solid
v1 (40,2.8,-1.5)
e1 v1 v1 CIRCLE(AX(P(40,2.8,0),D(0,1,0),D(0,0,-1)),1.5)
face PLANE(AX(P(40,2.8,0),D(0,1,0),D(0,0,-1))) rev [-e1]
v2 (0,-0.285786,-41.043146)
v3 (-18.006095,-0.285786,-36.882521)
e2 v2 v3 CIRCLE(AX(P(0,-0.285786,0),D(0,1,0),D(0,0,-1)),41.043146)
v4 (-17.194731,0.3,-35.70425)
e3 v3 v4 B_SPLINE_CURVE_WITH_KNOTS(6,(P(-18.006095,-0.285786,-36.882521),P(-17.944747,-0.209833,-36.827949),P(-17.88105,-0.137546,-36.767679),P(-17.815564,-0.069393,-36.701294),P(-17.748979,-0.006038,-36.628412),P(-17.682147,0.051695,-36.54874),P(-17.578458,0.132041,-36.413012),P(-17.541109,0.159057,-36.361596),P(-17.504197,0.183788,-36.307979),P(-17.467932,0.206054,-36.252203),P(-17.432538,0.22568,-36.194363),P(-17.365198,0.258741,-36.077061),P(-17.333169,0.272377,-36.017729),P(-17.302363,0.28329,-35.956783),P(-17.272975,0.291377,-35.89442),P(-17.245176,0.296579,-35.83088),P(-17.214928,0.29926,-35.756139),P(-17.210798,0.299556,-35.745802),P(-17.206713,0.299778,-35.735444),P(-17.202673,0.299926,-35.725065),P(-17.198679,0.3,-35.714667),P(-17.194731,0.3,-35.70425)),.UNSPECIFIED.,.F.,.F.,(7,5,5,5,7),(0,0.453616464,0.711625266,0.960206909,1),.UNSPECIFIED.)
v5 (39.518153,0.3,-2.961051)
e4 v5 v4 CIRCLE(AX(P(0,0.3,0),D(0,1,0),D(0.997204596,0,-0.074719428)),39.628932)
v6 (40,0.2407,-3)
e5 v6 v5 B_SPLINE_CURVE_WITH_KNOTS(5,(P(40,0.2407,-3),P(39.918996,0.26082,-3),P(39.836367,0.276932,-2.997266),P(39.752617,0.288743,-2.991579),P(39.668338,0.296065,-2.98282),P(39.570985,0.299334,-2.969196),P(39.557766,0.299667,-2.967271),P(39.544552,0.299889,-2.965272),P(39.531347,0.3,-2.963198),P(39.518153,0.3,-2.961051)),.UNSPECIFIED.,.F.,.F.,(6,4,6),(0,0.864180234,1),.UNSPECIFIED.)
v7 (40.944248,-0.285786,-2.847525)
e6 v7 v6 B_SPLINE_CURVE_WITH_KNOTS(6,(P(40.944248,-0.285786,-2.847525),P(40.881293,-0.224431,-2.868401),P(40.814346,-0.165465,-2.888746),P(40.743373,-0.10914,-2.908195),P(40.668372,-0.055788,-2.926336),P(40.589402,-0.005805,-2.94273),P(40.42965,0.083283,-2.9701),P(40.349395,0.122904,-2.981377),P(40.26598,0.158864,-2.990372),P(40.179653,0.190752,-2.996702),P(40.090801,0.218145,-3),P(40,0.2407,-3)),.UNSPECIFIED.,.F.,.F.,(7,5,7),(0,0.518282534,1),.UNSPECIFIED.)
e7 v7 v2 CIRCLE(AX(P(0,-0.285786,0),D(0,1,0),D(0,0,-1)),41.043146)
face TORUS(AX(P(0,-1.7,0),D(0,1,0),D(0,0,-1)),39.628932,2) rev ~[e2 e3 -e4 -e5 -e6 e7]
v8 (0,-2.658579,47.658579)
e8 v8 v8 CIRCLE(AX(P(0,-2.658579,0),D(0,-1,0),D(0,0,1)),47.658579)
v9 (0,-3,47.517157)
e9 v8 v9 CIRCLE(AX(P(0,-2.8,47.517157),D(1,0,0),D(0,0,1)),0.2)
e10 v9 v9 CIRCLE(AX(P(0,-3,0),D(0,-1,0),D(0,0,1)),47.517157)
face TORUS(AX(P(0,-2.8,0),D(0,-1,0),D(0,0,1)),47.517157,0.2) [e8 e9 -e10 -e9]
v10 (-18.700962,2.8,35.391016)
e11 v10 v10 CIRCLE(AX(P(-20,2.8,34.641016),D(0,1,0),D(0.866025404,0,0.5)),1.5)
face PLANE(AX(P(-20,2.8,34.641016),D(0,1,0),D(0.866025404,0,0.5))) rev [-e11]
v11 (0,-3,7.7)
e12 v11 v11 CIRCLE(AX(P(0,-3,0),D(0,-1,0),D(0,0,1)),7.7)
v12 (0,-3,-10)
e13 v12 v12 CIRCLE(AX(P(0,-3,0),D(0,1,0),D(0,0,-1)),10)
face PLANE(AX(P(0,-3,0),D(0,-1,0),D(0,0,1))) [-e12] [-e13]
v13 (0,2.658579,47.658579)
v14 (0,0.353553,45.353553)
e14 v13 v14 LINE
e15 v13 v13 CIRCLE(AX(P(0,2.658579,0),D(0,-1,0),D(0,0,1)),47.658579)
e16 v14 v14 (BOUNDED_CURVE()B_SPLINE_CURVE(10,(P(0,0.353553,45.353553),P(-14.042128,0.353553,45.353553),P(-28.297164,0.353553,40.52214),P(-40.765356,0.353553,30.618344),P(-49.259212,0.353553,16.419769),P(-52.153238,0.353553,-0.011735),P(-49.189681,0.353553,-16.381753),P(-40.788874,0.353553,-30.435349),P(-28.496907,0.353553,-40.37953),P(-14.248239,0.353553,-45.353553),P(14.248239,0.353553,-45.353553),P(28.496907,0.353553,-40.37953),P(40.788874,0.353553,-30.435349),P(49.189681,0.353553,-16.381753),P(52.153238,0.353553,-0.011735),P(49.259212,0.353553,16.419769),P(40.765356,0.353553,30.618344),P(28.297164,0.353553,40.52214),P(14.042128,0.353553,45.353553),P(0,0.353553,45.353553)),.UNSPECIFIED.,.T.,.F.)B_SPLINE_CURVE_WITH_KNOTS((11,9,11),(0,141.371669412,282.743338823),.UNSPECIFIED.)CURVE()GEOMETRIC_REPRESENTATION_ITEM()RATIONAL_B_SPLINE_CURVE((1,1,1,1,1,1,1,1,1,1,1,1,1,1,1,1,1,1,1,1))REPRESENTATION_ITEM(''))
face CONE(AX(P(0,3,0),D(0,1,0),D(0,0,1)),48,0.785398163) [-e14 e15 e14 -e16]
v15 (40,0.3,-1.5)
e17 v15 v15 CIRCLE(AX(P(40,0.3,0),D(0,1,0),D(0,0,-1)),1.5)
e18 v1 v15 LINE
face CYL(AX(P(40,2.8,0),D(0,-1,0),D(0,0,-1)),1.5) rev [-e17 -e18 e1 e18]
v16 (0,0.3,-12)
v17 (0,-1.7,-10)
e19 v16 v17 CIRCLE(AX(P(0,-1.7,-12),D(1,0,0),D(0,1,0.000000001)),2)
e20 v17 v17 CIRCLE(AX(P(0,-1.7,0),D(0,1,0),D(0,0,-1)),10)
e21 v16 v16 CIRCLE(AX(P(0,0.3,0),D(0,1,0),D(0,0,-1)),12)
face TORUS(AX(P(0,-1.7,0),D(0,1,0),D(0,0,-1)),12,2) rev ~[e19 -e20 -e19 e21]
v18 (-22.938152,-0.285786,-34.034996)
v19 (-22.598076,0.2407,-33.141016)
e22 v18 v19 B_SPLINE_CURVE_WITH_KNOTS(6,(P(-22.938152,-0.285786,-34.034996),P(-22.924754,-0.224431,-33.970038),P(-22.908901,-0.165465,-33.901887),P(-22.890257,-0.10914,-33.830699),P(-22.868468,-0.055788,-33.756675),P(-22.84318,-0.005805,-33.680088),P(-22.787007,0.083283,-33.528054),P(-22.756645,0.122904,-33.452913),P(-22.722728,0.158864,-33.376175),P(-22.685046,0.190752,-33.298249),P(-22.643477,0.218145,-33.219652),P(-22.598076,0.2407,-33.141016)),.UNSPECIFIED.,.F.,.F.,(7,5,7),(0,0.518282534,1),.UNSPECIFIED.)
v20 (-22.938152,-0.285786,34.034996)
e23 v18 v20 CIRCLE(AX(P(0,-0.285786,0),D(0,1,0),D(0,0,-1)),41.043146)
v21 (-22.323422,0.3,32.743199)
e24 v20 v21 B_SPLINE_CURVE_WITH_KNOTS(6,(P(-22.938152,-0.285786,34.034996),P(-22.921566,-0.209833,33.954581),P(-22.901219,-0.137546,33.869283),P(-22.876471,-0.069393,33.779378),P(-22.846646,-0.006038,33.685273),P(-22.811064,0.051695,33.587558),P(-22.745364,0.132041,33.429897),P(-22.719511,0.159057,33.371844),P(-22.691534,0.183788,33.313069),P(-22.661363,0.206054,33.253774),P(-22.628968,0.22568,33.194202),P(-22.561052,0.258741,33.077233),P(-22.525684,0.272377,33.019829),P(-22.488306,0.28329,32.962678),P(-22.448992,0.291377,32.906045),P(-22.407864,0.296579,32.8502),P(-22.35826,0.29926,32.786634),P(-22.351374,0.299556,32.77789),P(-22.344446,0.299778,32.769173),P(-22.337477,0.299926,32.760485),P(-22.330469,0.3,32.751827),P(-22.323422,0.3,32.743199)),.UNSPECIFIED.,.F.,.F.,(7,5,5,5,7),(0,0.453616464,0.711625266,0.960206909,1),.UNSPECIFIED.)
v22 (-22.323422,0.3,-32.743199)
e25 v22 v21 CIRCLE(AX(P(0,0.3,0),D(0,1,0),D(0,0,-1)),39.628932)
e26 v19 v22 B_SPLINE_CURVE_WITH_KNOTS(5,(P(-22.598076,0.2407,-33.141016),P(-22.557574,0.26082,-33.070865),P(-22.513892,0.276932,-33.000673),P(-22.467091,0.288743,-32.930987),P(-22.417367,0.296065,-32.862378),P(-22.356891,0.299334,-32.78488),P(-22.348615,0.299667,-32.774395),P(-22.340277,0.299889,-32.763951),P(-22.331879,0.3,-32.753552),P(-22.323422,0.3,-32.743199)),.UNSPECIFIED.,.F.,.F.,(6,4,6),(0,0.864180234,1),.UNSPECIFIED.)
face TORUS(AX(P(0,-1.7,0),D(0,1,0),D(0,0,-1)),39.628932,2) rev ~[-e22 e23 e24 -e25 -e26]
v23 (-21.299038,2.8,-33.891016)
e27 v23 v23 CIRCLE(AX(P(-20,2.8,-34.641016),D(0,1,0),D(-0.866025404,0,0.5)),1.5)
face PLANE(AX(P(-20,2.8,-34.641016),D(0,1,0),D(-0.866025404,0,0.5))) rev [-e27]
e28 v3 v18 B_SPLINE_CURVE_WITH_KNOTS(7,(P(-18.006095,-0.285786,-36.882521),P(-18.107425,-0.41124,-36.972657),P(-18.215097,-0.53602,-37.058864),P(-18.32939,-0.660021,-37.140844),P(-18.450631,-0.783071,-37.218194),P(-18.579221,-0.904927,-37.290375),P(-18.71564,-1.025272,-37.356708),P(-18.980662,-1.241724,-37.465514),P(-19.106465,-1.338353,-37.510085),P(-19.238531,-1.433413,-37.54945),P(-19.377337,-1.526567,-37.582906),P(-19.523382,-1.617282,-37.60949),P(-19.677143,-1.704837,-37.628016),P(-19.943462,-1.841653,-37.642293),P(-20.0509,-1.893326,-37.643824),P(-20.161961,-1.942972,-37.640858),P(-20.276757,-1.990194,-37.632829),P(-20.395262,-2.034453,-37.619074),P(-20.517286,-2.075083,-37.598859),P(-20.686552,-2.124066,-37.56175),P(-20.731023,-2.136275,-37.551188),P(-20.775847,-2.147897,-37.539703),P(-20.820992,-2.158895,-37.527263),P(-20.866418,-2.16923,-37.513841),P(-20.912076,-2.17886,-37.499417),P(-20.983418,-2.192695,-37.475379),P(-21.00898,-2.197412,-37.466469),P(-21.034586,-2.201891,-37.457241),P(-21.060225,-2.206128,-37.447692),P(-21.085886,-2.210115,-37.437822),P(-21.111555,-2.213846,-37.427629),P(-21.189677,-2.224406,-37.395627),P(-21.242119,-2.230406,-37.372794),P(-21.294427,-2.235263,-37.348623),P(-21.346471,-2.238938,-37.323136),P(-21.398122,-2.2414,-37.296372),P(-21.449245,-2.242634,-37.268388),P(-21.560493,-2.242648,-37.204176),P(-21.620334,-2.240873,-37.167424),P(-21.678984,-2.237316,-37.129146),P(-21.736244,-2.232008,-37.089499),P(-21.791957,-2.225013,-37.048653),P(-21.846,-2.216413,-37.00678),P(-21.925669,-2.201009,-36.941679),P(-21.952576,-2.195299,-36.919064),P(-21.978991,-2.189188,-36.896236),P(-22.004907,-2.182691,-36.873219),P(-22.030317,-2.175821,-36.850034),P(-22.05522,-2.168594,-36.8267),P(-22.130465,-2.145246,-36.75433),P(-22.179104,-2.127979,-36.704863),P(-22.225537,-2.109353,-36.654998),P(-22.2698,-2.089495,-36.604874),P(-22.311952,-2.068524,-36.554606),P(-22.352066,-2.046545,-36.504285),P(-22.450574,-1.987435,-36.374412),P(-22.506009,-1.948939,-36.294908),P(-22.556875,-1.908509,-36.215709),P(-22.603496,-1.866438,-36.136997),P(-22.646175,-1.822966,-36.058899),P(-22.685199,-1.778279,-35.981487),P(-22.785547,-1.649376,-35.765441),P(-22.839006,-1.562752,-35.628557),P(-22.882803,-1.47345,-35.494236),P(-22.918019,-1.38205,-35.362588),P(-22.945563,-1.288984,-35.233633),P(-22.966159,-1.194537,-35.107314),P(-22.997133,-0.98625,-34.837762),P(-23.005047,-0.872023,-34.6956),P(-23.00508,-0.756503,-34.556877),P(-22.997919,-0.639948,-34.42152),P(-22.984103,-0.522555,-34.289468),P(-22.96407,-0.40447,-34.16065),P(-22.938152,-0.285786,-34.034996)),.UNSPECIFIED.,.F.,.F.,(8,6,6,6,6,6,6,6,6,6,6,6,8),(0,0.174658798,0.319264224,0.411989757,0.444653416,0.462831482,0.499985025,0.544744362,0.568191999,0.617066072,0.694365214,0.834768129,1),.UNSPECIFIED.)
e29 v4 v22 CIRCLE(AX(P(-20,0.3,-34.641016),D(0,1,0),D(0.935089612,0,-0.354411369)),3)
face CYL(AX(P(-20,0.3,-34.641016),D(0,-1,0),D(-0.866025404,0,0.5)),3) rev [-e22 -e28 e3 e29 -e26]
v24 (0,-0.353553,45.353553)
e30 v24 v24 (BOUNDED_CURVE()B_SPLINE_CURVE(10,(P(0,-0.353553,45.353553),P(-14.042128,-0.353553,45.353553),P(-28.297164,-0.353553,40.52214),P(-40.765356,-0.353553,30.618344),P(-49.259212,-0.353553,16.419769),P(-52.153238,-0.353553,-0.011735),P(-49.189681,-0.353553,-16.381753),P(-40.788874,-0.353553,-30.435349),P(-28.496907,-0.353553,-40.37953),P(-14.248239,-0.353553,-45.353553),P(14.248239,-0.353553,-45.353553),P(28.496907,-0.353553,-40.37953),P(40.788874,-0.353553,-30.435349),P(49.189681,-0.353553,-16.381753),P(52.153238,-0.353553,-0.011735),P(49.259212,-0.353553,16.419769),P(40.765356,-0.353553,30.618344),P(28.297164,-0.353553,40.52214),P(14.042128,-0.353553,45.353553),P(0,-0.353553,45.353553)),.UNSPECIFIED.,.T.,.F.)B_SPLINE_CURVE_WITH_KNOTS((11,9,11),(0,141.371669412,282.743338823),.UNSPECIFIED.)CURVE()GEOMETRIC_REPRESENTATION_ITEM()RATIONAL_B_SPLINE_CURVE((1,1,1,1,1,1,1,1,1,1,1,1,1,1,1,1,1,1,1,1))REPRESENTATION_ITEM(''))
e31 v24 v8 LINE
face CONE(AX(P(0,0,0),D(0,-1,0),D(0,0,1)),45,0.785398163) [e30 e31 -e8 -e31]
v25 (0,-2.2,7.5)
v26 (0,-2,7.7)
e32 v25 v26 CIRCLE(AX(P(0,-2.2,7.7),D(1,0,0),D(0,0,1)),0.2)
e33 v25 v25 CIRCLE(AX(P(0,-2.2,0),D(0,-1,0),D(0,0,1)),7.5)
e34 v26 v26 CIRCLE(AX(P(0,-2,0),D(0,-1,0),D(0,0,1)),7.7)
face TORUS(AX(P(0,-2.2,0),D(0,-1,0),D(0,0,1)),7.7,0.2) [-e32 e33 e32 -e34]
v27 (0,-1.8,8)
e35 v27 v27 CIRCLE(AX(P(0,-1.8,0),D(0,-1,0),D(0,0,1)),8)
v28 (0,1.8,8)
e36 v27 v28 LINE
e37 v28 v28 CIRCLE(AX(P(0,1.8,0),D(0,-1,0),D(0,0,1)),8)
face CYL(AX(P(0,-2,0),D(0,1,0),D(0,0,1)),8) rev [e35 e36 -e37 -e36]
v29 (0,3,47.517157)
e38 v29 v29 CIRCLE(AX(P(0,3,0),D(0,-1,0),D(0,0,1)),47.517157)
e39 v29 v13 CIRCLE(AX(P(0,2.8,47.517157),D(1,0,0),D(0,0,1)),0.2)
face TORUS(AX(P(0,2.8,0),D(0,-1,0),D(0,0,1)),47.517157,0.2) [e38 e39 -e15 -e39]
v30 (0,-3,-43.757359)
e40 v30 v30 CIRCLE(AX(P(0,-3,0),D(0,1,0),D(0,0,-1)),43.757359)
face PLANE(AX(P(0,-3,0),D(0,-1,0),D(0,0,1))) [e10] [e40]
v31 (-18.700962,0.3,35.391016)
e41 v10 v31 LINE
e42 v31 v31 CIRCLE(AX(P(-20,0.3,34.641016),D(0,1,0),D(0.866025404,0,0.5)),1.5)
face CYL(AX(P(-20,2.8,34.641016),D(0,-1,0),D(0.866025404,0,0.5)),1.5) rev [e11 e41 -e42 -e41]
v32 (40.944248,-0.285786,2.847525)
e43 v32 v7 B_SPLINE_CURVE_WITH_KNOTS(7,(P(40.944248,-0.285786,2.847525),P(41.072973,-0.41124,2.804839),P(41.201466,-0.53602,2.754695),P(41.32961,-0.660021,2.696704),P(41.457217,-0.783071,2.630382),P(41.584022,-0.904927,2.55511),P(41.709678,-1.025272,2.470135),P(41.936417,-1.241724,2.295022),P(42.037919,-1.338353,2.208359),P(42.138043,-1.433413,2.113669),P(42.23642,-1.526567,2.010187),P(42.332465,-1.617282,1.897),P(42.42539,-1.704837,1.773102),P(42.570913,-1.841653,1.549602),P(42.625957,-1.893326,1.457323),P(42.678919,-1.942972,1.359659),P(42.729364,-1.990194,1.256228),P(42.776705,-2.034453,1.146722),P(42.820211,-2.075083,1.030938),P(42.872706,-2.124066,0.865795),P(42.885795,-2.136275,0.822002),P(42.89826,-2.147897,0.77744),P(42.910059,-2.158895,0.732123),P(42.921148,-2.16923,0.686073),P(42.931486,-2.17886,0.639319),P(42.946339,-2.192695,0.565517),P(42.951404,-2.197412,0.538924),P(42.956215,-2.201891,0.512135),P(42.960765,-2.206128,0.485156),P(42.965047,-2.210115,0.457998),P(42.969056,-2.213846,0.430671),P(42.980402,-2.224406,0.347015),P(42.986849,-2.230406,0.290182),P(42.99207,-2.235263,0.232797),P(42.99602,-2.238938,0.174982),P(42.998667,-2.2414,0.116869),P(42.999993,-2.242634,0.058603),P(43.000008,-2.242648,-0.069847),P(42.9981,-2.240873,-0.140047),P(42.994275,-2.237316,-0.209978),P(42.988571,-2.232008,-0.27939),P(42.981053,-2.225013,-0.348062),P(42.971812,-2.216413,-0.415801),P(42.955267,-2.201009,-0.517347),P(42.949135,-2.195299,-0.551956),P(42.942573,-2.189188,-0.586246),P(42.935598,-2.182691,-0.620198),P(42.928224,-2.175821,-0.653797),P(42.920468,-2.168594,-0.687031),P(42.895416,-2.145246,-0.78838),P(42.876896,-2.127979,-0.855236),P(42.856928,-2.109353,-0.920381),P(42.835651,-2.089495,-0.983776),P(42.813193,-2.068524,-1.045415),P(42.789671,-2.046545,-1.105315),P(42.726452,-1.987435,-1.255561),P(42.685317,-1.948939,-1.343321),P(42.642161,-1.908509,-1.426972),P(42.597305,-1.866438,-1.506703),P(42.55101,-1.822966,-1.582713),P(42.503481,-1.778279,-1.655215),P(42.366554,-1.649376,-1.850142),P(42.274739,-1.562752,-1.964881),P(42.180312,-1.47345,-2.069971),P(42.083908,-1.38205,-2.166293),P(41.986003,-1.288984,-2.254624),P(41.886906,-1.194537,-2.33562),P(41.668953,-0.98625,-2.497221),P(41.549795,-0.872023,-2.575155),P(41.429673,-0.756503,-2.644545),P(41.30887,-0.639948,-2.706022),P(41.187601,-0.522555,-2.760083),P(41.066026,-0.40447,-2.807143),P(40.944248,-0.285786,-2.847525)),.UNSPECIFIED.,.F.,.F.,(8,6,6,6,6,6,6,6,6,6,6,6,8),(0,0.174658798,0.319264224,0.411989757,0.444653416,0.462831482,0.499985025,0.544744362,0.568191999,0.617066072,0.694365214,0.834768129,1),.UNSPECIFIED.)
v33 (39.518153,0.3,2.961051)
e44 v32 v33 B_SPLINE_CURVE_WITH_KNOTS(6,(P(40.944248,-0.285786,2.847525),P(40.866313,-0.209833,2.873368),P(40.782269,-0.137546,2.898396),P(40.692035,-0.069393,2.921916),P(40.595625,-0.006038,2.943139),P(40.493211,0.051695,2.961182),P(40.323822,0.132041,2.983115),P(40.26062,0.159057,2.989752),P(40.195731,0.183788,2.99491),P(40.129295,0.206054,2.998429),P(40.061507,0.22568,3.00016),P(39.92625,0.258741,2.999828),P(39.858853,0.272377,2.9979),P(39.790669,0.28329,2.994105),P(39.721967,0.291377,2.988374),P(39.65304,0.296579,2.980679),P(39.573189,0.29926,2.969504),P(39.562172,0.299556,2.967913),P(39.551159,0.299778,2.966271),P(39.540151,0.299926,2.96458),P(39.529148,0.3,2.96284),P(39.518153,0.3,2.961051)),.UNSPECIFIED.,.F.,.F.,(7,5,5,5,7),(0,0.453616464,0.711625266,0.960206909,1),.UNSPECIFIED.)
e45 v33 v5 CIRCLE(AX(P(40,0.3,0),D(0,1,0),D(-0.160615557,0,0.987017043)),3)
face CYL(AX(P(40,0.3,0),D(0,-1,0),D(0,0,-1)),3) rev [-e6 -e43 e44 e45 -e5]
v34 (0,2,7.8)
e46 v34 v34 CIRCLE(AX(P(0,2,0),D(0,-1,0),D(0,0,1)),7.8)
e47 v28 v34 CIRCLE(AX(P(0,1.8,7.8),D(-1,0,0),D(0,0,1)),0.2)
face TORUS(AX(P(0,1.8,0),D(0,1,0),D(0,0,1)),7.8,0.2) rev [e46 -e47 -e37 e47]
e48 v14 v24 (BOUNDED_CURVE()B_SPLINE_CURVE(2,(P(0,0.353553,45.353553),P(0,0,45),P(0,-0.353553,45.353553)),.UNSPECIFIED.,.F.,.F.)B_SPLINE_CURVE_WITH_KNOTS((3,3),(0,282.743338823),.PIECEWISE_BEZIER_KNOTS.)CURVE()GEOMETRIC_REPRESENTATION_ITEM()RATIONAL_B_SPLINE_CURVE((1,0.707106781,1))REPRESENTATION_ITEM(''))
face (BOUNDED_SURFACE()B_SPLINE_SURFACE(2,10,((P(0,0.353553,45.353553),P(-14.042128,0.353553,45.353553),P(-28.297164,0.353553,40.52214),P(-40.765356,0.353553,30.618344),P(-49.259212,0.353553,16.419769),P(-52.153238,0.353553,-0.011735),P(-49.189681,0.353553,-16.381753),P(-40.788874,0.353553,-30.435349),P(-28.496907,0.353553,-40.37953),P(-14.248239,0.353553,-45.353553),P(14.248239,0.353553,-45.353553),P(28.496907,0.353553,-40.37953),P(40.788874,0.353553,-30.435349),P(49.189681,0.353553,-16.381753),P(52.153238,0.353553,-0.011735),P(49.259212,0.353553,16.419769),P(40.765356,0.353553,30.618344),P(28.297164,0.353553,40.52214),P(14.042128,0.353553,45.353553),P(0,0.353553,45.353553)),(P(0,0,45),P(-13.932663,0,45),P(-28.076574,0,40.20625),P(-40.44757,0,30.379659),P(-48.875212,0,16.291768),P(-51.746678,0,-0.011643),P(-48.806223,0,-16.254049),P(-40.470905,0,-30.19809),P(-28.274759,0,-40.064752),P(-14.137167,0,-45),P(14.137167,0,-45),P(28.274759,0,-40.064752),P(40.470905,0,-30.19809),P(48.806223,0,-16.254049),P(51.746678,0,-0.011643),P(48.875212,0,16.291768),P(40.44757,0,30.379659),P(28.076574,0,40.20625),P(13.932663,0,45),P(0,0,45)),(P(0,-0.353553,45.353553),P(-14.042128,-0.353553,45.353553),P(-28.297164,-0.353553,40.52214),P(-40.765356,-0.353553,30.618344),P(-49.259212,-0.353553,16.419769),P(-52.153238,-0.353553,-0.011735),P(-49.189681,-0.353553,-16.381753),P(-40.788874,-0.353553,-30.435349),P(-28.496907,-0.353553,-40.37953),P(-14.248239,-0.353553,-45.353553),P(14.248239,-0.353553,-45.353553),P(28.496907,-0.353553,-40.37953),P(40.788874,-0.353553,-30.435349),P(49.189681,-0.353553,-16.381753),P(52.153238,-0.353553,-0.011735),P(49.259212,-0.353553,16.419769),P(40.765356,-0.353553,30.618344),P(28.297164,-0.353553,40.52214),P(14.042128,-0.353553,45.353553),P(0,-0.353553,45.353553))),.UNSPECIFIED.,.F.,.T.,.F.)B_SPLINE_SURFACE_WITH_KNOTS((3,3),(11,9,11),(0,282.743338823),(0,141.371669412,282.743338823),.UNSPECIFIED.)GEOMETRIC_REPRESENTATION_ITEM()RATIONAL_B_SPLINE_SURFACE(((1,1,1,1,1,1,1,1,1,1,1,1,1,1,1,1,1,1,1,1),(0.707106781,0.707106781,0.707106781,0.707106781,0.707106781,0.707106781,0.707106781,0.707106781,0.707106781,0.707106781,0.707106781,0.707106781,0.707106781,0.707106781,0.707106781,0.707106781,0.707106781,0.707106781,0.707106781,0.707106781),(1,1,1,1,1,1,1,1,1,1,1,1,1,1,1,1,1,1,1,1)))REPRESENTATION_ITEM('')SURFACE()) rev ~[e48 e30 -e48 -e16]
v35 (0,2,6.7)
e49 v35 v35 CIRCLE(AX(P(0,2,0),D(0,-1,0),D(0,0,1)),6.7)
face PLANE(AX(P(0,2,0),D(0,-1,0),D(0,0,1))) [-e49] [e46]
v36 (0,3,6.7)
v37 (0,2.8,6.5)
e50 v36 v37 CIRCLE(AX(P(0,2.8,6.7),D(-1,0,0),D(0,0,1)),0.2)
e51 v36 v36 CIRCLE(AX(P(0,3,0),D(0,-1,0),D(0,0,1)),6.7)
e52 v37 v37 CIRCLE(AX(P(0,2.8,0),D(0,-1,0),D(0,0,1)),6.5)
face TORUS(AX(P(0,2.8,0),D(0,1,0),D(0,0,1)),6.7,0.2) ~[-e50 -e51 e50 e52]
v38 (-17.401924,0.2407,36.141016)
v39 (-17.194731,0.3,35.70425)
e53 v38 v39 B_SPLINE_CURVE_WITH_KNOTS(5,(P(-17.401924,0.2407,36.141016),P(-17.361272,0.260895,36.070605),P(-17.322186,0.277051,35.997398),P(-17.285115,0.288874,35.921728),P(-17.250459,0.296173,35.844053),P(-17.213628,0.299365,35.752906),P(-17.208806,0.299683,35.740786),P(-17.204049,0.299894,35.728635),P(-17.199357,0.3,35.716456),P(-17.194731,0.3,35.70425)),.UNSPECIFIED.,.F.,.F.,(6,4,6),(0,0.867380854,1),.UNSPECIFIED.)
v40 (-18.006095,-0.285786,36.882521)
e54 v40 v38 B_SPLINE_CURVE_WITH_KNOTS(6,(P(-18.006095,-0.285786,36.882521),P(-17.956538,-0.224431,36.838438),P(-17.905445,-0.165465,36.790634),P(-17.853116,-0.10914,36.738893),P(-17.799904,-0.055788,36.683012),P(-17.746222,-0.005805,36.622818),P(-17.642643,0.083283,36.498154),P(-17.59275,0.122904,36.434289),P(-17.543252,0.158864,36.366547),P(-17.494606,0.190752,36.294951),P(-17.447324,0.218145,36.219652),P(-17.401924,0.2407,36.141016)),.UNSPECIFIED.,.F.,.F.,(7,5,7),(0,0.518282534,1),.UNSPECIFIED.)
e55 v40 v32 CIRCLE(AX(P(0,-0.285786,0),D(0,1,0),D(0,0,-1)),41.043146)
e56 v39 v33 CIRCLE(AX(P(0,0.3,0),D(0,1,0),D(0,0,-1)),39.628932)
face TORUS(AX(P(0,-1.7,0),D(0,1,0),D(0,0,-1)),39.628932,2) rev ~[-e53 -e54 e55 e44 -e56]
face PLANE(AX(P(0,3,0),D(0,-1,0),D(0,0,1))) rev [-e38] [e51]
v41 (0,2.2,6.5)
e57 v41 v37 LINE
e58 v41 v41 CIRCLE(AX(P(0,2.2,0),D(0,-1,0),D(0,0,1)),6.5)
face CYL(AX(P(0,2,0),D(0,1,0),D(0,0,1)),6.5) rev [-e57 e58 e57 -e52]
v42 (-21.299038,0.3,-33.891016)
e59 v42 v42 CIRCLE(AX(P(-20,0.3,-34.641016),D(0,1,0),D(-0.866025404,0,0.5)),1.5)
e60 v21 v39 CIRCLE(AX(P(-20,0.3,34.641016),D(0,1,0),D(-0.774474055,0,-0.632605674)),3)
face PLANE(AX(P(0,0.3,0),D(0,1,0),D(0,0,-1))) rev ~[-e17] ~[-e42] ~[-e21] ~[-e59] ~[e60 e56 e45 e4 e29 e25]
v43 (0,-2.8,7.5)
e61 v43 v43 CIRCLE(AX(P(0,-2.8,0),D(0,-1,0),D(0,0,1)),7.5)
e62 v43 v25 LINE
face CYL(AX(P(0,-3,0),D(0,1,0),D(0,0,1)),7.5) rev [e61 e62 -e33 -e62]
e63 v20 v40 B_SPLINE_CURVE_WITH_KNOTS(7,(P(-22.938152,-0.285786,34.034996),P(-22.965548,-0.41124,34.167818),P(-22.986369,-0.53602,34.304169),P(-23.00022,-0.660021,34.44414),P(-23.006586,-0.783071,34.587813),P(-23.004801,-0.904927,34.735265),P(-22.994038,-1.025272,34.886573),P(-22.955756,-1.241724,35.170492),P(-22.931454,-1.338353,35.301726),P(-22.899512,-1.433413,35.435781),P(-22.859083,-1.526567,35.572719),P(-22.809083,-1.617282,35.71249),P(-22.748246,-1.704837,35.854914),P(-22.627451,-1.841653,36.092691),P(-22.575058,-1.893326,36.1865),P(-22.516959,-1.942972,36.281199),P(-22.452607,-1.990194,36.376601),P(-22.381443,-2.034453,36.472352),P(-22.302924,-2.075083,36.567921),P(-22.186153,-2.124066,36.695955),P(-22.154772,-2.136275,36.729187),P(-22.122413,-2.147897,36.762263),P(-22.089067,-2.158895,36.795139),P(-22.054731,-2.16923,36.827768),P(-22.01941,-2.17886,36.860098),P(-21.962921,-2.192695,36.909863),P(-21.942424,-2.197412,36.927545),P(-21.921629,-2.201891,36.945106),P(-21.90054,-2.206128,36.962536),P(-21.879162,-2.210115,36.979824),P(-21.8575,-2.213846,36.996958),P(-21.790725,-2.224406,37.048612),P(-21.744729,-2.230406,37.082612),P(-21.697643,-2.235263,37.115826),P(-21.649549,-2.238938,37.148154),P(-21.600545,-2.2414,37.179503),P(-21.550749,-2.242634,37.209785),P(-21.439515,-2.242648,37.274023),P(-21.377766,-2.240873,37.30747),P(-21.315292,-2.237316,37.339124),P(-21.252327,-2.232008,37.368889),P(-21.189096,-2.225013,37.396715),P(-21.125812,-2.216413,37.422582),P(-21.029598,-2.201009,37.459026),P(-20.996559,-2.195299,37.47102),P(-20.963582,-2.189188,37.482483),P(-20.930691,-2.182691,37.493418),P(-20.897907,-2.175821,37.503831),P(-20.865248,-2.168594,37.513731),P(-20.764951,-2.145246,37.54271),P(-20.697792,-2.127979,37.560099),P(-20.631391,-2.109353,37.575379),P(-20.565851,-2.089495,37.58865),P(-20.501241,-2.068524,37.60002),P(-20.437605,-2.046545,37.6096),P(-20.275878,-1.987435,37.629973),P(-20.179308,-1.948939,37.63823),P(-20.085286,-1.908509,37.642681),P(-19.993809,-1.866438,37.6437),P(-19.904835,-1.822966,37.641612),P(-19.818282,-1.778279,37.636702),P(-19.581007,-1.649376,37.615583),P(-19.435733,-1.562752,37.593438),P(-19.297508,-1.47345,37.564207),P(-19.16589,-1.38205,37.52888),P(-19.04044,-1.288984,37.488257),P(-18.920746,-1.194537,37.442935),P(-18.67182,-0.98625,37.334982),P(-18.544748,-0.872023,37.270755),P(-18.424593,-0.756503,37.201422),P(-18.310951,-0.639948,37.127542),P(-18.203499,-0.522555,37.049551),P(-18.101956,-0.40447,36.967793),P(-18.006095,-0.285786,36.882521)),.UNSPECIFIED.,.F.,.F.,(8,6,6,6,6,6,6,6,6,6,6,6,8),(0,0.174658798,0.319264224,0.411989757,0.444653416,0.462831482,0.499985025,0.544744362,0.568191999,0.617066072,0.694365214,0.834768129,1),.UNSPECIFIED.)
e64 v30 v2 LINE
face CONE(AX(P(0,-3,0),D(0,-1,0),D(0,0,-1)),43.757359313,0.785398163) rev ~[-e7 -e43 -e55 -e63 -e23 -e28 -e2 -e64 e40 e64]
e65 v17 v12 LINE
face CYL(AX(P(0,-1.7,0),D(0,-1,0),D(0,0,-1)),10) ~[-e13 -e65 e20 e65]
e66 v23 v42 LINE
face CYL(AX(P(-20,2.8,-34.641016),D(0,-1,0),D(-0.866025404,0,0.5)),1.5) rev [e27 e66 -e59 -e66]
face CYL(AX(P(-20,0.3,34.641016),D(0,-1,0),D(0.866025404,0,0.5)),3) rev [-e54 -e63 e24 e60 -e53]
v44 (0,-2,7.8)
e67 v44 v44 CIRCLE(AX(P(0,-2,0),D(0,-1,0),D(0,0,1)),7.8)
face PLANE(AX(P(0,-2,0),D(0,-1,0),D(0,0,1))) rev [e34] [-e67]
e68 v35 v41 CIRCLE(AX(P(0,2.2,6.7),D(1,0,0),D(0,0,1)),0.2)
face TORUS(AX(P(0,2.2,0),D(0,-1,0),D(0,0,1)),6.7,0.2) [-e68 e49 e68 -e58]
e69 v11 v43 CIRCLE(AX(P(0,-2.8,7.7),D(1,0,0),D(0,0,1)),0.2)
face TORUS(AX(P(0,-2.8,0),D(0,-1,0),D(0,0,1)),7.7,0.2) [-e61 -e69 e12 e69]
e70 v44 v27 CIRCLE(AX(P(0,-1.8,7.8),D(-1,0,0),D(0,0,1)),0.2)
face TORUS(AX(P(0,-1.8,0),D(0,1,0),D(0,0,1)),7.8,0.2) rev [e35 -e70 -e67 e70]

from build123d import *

# Parameters (mm, degrees)
CONG_1_R                     = 0.2
CONG_2_R                     = 0.5
R_P_TITION_CIRCULAIRE1_COUNT = 3


with BuildPart() as part:
    # Esquisse1 → Révolution1 (revolve)
    with BuildSketch(Plane.XY, mode=Mode.PRIVATE) as r_volution1_sk:
        Polygon((6.5, 3), (48, 3), (45, 0), (48, -3), (7.5, -3), (7.5, -2), (8, -2), (8, 2), (6.5, 2), align=None)
    revolve(r_volution1_sk.sketch.rotate(Axis((0, 3, 0), (0, -1, 0)), 90), axis=Axis((0, 3, 0), (0, -1, 0)))

    # Congé1
    cong_1_edges = [part.edges().sort_by_distance(p)[0] for p in [
        (0, 2, -6.5),
        (0, 3, -6.5),
        (0, 3, -48),
        (0, -3, -48),
        (0, -3, -7.5),
        (0, -2, -7.5),
        (0, -2, -8),
        (0, 2, -8),
    ]]
    fillet(cong_1_edges, radius=CONG_1_R)

    # Congé2
    cong_2_edges = [part.edges().sort_by_distance(p)[0] for p in [
        (0, 0, -45),
    ]]
    fillet(cong_2_edges, radius=CONG_2_R)

    # Esquisse2 → Enlèvement de matière-Révolution1 (revolve, cut)
    with BuildSketch(Plane.XY, mode=Mode.PRIVATE) as enl_vement_de_mati_re_r_volution1_sk:
        Polygon((40, 2.8), (41.5, 2.8), (41.5, 0.3), (43, 0.3), (43, -3), (40, -3), align=None)
    enl_vement_de_mati_re_r_volution1 = revolve(enl_vement_de_mati_re_r_volution1_sk.sketch.rotate(Axis((40, 2.8, 0), (0, 1, 0)), 90), axis=Axis((40, 2.8, 0), (0, 1, 0)), mode=Mode.SUBTRACT)

    # Répétition circulaire1: Enlèvement de matière-Révolution1 ×3 about axis
    r_p_tition_circulaire1_axis = Axis((0, 0, 0), (0, 1, 0))
    for i in range(1, R_P_TITION_CIRCULAIRE1_COUNT):
        add(enl_vement_de_mati_re_r_volution1.rotate(r_p_tition_circulaire1_axis, i * 360 / R_P_TITION_CIRCULAIRE1_COUNT), mode=Mode.SUBTRACT)

    # Esquisse3 → Enlèvement de matière-Révolution2 (revolve, cut)
    with BuildSketch(Plane.XY, mode=Mode.PRIVATE) as enl_vement_de_mati_re_r_volution2_sk:
        with BuildLine():
            Line((10, -3), (43.757359313, -3))
            Line((43.757359313, -3), (41.043145751, -0.285786438))
            ThreePointArc((41.043145751, -0.285786438), (40.394299053, 0.147759065), (39.628932188, 0.3))
            Line((39.628932188, 0.3), (12, 0.3))
            ThreePointArc((12, 0.3), (10.585786438, -0.285786438), (10, -1.7))
            Line((10, -1.7), (10, -3))
        make_face()
    revolve(enl_vement_de_mati_re_r_volution2_sk.sketch.rotate(Axis((0, -3, 0), (0, 1, 0)), 90), axis=Axis((0, -3, 0), (0, 1, 0)), mode=Mode.SUBTRACT)


solid = part.part
